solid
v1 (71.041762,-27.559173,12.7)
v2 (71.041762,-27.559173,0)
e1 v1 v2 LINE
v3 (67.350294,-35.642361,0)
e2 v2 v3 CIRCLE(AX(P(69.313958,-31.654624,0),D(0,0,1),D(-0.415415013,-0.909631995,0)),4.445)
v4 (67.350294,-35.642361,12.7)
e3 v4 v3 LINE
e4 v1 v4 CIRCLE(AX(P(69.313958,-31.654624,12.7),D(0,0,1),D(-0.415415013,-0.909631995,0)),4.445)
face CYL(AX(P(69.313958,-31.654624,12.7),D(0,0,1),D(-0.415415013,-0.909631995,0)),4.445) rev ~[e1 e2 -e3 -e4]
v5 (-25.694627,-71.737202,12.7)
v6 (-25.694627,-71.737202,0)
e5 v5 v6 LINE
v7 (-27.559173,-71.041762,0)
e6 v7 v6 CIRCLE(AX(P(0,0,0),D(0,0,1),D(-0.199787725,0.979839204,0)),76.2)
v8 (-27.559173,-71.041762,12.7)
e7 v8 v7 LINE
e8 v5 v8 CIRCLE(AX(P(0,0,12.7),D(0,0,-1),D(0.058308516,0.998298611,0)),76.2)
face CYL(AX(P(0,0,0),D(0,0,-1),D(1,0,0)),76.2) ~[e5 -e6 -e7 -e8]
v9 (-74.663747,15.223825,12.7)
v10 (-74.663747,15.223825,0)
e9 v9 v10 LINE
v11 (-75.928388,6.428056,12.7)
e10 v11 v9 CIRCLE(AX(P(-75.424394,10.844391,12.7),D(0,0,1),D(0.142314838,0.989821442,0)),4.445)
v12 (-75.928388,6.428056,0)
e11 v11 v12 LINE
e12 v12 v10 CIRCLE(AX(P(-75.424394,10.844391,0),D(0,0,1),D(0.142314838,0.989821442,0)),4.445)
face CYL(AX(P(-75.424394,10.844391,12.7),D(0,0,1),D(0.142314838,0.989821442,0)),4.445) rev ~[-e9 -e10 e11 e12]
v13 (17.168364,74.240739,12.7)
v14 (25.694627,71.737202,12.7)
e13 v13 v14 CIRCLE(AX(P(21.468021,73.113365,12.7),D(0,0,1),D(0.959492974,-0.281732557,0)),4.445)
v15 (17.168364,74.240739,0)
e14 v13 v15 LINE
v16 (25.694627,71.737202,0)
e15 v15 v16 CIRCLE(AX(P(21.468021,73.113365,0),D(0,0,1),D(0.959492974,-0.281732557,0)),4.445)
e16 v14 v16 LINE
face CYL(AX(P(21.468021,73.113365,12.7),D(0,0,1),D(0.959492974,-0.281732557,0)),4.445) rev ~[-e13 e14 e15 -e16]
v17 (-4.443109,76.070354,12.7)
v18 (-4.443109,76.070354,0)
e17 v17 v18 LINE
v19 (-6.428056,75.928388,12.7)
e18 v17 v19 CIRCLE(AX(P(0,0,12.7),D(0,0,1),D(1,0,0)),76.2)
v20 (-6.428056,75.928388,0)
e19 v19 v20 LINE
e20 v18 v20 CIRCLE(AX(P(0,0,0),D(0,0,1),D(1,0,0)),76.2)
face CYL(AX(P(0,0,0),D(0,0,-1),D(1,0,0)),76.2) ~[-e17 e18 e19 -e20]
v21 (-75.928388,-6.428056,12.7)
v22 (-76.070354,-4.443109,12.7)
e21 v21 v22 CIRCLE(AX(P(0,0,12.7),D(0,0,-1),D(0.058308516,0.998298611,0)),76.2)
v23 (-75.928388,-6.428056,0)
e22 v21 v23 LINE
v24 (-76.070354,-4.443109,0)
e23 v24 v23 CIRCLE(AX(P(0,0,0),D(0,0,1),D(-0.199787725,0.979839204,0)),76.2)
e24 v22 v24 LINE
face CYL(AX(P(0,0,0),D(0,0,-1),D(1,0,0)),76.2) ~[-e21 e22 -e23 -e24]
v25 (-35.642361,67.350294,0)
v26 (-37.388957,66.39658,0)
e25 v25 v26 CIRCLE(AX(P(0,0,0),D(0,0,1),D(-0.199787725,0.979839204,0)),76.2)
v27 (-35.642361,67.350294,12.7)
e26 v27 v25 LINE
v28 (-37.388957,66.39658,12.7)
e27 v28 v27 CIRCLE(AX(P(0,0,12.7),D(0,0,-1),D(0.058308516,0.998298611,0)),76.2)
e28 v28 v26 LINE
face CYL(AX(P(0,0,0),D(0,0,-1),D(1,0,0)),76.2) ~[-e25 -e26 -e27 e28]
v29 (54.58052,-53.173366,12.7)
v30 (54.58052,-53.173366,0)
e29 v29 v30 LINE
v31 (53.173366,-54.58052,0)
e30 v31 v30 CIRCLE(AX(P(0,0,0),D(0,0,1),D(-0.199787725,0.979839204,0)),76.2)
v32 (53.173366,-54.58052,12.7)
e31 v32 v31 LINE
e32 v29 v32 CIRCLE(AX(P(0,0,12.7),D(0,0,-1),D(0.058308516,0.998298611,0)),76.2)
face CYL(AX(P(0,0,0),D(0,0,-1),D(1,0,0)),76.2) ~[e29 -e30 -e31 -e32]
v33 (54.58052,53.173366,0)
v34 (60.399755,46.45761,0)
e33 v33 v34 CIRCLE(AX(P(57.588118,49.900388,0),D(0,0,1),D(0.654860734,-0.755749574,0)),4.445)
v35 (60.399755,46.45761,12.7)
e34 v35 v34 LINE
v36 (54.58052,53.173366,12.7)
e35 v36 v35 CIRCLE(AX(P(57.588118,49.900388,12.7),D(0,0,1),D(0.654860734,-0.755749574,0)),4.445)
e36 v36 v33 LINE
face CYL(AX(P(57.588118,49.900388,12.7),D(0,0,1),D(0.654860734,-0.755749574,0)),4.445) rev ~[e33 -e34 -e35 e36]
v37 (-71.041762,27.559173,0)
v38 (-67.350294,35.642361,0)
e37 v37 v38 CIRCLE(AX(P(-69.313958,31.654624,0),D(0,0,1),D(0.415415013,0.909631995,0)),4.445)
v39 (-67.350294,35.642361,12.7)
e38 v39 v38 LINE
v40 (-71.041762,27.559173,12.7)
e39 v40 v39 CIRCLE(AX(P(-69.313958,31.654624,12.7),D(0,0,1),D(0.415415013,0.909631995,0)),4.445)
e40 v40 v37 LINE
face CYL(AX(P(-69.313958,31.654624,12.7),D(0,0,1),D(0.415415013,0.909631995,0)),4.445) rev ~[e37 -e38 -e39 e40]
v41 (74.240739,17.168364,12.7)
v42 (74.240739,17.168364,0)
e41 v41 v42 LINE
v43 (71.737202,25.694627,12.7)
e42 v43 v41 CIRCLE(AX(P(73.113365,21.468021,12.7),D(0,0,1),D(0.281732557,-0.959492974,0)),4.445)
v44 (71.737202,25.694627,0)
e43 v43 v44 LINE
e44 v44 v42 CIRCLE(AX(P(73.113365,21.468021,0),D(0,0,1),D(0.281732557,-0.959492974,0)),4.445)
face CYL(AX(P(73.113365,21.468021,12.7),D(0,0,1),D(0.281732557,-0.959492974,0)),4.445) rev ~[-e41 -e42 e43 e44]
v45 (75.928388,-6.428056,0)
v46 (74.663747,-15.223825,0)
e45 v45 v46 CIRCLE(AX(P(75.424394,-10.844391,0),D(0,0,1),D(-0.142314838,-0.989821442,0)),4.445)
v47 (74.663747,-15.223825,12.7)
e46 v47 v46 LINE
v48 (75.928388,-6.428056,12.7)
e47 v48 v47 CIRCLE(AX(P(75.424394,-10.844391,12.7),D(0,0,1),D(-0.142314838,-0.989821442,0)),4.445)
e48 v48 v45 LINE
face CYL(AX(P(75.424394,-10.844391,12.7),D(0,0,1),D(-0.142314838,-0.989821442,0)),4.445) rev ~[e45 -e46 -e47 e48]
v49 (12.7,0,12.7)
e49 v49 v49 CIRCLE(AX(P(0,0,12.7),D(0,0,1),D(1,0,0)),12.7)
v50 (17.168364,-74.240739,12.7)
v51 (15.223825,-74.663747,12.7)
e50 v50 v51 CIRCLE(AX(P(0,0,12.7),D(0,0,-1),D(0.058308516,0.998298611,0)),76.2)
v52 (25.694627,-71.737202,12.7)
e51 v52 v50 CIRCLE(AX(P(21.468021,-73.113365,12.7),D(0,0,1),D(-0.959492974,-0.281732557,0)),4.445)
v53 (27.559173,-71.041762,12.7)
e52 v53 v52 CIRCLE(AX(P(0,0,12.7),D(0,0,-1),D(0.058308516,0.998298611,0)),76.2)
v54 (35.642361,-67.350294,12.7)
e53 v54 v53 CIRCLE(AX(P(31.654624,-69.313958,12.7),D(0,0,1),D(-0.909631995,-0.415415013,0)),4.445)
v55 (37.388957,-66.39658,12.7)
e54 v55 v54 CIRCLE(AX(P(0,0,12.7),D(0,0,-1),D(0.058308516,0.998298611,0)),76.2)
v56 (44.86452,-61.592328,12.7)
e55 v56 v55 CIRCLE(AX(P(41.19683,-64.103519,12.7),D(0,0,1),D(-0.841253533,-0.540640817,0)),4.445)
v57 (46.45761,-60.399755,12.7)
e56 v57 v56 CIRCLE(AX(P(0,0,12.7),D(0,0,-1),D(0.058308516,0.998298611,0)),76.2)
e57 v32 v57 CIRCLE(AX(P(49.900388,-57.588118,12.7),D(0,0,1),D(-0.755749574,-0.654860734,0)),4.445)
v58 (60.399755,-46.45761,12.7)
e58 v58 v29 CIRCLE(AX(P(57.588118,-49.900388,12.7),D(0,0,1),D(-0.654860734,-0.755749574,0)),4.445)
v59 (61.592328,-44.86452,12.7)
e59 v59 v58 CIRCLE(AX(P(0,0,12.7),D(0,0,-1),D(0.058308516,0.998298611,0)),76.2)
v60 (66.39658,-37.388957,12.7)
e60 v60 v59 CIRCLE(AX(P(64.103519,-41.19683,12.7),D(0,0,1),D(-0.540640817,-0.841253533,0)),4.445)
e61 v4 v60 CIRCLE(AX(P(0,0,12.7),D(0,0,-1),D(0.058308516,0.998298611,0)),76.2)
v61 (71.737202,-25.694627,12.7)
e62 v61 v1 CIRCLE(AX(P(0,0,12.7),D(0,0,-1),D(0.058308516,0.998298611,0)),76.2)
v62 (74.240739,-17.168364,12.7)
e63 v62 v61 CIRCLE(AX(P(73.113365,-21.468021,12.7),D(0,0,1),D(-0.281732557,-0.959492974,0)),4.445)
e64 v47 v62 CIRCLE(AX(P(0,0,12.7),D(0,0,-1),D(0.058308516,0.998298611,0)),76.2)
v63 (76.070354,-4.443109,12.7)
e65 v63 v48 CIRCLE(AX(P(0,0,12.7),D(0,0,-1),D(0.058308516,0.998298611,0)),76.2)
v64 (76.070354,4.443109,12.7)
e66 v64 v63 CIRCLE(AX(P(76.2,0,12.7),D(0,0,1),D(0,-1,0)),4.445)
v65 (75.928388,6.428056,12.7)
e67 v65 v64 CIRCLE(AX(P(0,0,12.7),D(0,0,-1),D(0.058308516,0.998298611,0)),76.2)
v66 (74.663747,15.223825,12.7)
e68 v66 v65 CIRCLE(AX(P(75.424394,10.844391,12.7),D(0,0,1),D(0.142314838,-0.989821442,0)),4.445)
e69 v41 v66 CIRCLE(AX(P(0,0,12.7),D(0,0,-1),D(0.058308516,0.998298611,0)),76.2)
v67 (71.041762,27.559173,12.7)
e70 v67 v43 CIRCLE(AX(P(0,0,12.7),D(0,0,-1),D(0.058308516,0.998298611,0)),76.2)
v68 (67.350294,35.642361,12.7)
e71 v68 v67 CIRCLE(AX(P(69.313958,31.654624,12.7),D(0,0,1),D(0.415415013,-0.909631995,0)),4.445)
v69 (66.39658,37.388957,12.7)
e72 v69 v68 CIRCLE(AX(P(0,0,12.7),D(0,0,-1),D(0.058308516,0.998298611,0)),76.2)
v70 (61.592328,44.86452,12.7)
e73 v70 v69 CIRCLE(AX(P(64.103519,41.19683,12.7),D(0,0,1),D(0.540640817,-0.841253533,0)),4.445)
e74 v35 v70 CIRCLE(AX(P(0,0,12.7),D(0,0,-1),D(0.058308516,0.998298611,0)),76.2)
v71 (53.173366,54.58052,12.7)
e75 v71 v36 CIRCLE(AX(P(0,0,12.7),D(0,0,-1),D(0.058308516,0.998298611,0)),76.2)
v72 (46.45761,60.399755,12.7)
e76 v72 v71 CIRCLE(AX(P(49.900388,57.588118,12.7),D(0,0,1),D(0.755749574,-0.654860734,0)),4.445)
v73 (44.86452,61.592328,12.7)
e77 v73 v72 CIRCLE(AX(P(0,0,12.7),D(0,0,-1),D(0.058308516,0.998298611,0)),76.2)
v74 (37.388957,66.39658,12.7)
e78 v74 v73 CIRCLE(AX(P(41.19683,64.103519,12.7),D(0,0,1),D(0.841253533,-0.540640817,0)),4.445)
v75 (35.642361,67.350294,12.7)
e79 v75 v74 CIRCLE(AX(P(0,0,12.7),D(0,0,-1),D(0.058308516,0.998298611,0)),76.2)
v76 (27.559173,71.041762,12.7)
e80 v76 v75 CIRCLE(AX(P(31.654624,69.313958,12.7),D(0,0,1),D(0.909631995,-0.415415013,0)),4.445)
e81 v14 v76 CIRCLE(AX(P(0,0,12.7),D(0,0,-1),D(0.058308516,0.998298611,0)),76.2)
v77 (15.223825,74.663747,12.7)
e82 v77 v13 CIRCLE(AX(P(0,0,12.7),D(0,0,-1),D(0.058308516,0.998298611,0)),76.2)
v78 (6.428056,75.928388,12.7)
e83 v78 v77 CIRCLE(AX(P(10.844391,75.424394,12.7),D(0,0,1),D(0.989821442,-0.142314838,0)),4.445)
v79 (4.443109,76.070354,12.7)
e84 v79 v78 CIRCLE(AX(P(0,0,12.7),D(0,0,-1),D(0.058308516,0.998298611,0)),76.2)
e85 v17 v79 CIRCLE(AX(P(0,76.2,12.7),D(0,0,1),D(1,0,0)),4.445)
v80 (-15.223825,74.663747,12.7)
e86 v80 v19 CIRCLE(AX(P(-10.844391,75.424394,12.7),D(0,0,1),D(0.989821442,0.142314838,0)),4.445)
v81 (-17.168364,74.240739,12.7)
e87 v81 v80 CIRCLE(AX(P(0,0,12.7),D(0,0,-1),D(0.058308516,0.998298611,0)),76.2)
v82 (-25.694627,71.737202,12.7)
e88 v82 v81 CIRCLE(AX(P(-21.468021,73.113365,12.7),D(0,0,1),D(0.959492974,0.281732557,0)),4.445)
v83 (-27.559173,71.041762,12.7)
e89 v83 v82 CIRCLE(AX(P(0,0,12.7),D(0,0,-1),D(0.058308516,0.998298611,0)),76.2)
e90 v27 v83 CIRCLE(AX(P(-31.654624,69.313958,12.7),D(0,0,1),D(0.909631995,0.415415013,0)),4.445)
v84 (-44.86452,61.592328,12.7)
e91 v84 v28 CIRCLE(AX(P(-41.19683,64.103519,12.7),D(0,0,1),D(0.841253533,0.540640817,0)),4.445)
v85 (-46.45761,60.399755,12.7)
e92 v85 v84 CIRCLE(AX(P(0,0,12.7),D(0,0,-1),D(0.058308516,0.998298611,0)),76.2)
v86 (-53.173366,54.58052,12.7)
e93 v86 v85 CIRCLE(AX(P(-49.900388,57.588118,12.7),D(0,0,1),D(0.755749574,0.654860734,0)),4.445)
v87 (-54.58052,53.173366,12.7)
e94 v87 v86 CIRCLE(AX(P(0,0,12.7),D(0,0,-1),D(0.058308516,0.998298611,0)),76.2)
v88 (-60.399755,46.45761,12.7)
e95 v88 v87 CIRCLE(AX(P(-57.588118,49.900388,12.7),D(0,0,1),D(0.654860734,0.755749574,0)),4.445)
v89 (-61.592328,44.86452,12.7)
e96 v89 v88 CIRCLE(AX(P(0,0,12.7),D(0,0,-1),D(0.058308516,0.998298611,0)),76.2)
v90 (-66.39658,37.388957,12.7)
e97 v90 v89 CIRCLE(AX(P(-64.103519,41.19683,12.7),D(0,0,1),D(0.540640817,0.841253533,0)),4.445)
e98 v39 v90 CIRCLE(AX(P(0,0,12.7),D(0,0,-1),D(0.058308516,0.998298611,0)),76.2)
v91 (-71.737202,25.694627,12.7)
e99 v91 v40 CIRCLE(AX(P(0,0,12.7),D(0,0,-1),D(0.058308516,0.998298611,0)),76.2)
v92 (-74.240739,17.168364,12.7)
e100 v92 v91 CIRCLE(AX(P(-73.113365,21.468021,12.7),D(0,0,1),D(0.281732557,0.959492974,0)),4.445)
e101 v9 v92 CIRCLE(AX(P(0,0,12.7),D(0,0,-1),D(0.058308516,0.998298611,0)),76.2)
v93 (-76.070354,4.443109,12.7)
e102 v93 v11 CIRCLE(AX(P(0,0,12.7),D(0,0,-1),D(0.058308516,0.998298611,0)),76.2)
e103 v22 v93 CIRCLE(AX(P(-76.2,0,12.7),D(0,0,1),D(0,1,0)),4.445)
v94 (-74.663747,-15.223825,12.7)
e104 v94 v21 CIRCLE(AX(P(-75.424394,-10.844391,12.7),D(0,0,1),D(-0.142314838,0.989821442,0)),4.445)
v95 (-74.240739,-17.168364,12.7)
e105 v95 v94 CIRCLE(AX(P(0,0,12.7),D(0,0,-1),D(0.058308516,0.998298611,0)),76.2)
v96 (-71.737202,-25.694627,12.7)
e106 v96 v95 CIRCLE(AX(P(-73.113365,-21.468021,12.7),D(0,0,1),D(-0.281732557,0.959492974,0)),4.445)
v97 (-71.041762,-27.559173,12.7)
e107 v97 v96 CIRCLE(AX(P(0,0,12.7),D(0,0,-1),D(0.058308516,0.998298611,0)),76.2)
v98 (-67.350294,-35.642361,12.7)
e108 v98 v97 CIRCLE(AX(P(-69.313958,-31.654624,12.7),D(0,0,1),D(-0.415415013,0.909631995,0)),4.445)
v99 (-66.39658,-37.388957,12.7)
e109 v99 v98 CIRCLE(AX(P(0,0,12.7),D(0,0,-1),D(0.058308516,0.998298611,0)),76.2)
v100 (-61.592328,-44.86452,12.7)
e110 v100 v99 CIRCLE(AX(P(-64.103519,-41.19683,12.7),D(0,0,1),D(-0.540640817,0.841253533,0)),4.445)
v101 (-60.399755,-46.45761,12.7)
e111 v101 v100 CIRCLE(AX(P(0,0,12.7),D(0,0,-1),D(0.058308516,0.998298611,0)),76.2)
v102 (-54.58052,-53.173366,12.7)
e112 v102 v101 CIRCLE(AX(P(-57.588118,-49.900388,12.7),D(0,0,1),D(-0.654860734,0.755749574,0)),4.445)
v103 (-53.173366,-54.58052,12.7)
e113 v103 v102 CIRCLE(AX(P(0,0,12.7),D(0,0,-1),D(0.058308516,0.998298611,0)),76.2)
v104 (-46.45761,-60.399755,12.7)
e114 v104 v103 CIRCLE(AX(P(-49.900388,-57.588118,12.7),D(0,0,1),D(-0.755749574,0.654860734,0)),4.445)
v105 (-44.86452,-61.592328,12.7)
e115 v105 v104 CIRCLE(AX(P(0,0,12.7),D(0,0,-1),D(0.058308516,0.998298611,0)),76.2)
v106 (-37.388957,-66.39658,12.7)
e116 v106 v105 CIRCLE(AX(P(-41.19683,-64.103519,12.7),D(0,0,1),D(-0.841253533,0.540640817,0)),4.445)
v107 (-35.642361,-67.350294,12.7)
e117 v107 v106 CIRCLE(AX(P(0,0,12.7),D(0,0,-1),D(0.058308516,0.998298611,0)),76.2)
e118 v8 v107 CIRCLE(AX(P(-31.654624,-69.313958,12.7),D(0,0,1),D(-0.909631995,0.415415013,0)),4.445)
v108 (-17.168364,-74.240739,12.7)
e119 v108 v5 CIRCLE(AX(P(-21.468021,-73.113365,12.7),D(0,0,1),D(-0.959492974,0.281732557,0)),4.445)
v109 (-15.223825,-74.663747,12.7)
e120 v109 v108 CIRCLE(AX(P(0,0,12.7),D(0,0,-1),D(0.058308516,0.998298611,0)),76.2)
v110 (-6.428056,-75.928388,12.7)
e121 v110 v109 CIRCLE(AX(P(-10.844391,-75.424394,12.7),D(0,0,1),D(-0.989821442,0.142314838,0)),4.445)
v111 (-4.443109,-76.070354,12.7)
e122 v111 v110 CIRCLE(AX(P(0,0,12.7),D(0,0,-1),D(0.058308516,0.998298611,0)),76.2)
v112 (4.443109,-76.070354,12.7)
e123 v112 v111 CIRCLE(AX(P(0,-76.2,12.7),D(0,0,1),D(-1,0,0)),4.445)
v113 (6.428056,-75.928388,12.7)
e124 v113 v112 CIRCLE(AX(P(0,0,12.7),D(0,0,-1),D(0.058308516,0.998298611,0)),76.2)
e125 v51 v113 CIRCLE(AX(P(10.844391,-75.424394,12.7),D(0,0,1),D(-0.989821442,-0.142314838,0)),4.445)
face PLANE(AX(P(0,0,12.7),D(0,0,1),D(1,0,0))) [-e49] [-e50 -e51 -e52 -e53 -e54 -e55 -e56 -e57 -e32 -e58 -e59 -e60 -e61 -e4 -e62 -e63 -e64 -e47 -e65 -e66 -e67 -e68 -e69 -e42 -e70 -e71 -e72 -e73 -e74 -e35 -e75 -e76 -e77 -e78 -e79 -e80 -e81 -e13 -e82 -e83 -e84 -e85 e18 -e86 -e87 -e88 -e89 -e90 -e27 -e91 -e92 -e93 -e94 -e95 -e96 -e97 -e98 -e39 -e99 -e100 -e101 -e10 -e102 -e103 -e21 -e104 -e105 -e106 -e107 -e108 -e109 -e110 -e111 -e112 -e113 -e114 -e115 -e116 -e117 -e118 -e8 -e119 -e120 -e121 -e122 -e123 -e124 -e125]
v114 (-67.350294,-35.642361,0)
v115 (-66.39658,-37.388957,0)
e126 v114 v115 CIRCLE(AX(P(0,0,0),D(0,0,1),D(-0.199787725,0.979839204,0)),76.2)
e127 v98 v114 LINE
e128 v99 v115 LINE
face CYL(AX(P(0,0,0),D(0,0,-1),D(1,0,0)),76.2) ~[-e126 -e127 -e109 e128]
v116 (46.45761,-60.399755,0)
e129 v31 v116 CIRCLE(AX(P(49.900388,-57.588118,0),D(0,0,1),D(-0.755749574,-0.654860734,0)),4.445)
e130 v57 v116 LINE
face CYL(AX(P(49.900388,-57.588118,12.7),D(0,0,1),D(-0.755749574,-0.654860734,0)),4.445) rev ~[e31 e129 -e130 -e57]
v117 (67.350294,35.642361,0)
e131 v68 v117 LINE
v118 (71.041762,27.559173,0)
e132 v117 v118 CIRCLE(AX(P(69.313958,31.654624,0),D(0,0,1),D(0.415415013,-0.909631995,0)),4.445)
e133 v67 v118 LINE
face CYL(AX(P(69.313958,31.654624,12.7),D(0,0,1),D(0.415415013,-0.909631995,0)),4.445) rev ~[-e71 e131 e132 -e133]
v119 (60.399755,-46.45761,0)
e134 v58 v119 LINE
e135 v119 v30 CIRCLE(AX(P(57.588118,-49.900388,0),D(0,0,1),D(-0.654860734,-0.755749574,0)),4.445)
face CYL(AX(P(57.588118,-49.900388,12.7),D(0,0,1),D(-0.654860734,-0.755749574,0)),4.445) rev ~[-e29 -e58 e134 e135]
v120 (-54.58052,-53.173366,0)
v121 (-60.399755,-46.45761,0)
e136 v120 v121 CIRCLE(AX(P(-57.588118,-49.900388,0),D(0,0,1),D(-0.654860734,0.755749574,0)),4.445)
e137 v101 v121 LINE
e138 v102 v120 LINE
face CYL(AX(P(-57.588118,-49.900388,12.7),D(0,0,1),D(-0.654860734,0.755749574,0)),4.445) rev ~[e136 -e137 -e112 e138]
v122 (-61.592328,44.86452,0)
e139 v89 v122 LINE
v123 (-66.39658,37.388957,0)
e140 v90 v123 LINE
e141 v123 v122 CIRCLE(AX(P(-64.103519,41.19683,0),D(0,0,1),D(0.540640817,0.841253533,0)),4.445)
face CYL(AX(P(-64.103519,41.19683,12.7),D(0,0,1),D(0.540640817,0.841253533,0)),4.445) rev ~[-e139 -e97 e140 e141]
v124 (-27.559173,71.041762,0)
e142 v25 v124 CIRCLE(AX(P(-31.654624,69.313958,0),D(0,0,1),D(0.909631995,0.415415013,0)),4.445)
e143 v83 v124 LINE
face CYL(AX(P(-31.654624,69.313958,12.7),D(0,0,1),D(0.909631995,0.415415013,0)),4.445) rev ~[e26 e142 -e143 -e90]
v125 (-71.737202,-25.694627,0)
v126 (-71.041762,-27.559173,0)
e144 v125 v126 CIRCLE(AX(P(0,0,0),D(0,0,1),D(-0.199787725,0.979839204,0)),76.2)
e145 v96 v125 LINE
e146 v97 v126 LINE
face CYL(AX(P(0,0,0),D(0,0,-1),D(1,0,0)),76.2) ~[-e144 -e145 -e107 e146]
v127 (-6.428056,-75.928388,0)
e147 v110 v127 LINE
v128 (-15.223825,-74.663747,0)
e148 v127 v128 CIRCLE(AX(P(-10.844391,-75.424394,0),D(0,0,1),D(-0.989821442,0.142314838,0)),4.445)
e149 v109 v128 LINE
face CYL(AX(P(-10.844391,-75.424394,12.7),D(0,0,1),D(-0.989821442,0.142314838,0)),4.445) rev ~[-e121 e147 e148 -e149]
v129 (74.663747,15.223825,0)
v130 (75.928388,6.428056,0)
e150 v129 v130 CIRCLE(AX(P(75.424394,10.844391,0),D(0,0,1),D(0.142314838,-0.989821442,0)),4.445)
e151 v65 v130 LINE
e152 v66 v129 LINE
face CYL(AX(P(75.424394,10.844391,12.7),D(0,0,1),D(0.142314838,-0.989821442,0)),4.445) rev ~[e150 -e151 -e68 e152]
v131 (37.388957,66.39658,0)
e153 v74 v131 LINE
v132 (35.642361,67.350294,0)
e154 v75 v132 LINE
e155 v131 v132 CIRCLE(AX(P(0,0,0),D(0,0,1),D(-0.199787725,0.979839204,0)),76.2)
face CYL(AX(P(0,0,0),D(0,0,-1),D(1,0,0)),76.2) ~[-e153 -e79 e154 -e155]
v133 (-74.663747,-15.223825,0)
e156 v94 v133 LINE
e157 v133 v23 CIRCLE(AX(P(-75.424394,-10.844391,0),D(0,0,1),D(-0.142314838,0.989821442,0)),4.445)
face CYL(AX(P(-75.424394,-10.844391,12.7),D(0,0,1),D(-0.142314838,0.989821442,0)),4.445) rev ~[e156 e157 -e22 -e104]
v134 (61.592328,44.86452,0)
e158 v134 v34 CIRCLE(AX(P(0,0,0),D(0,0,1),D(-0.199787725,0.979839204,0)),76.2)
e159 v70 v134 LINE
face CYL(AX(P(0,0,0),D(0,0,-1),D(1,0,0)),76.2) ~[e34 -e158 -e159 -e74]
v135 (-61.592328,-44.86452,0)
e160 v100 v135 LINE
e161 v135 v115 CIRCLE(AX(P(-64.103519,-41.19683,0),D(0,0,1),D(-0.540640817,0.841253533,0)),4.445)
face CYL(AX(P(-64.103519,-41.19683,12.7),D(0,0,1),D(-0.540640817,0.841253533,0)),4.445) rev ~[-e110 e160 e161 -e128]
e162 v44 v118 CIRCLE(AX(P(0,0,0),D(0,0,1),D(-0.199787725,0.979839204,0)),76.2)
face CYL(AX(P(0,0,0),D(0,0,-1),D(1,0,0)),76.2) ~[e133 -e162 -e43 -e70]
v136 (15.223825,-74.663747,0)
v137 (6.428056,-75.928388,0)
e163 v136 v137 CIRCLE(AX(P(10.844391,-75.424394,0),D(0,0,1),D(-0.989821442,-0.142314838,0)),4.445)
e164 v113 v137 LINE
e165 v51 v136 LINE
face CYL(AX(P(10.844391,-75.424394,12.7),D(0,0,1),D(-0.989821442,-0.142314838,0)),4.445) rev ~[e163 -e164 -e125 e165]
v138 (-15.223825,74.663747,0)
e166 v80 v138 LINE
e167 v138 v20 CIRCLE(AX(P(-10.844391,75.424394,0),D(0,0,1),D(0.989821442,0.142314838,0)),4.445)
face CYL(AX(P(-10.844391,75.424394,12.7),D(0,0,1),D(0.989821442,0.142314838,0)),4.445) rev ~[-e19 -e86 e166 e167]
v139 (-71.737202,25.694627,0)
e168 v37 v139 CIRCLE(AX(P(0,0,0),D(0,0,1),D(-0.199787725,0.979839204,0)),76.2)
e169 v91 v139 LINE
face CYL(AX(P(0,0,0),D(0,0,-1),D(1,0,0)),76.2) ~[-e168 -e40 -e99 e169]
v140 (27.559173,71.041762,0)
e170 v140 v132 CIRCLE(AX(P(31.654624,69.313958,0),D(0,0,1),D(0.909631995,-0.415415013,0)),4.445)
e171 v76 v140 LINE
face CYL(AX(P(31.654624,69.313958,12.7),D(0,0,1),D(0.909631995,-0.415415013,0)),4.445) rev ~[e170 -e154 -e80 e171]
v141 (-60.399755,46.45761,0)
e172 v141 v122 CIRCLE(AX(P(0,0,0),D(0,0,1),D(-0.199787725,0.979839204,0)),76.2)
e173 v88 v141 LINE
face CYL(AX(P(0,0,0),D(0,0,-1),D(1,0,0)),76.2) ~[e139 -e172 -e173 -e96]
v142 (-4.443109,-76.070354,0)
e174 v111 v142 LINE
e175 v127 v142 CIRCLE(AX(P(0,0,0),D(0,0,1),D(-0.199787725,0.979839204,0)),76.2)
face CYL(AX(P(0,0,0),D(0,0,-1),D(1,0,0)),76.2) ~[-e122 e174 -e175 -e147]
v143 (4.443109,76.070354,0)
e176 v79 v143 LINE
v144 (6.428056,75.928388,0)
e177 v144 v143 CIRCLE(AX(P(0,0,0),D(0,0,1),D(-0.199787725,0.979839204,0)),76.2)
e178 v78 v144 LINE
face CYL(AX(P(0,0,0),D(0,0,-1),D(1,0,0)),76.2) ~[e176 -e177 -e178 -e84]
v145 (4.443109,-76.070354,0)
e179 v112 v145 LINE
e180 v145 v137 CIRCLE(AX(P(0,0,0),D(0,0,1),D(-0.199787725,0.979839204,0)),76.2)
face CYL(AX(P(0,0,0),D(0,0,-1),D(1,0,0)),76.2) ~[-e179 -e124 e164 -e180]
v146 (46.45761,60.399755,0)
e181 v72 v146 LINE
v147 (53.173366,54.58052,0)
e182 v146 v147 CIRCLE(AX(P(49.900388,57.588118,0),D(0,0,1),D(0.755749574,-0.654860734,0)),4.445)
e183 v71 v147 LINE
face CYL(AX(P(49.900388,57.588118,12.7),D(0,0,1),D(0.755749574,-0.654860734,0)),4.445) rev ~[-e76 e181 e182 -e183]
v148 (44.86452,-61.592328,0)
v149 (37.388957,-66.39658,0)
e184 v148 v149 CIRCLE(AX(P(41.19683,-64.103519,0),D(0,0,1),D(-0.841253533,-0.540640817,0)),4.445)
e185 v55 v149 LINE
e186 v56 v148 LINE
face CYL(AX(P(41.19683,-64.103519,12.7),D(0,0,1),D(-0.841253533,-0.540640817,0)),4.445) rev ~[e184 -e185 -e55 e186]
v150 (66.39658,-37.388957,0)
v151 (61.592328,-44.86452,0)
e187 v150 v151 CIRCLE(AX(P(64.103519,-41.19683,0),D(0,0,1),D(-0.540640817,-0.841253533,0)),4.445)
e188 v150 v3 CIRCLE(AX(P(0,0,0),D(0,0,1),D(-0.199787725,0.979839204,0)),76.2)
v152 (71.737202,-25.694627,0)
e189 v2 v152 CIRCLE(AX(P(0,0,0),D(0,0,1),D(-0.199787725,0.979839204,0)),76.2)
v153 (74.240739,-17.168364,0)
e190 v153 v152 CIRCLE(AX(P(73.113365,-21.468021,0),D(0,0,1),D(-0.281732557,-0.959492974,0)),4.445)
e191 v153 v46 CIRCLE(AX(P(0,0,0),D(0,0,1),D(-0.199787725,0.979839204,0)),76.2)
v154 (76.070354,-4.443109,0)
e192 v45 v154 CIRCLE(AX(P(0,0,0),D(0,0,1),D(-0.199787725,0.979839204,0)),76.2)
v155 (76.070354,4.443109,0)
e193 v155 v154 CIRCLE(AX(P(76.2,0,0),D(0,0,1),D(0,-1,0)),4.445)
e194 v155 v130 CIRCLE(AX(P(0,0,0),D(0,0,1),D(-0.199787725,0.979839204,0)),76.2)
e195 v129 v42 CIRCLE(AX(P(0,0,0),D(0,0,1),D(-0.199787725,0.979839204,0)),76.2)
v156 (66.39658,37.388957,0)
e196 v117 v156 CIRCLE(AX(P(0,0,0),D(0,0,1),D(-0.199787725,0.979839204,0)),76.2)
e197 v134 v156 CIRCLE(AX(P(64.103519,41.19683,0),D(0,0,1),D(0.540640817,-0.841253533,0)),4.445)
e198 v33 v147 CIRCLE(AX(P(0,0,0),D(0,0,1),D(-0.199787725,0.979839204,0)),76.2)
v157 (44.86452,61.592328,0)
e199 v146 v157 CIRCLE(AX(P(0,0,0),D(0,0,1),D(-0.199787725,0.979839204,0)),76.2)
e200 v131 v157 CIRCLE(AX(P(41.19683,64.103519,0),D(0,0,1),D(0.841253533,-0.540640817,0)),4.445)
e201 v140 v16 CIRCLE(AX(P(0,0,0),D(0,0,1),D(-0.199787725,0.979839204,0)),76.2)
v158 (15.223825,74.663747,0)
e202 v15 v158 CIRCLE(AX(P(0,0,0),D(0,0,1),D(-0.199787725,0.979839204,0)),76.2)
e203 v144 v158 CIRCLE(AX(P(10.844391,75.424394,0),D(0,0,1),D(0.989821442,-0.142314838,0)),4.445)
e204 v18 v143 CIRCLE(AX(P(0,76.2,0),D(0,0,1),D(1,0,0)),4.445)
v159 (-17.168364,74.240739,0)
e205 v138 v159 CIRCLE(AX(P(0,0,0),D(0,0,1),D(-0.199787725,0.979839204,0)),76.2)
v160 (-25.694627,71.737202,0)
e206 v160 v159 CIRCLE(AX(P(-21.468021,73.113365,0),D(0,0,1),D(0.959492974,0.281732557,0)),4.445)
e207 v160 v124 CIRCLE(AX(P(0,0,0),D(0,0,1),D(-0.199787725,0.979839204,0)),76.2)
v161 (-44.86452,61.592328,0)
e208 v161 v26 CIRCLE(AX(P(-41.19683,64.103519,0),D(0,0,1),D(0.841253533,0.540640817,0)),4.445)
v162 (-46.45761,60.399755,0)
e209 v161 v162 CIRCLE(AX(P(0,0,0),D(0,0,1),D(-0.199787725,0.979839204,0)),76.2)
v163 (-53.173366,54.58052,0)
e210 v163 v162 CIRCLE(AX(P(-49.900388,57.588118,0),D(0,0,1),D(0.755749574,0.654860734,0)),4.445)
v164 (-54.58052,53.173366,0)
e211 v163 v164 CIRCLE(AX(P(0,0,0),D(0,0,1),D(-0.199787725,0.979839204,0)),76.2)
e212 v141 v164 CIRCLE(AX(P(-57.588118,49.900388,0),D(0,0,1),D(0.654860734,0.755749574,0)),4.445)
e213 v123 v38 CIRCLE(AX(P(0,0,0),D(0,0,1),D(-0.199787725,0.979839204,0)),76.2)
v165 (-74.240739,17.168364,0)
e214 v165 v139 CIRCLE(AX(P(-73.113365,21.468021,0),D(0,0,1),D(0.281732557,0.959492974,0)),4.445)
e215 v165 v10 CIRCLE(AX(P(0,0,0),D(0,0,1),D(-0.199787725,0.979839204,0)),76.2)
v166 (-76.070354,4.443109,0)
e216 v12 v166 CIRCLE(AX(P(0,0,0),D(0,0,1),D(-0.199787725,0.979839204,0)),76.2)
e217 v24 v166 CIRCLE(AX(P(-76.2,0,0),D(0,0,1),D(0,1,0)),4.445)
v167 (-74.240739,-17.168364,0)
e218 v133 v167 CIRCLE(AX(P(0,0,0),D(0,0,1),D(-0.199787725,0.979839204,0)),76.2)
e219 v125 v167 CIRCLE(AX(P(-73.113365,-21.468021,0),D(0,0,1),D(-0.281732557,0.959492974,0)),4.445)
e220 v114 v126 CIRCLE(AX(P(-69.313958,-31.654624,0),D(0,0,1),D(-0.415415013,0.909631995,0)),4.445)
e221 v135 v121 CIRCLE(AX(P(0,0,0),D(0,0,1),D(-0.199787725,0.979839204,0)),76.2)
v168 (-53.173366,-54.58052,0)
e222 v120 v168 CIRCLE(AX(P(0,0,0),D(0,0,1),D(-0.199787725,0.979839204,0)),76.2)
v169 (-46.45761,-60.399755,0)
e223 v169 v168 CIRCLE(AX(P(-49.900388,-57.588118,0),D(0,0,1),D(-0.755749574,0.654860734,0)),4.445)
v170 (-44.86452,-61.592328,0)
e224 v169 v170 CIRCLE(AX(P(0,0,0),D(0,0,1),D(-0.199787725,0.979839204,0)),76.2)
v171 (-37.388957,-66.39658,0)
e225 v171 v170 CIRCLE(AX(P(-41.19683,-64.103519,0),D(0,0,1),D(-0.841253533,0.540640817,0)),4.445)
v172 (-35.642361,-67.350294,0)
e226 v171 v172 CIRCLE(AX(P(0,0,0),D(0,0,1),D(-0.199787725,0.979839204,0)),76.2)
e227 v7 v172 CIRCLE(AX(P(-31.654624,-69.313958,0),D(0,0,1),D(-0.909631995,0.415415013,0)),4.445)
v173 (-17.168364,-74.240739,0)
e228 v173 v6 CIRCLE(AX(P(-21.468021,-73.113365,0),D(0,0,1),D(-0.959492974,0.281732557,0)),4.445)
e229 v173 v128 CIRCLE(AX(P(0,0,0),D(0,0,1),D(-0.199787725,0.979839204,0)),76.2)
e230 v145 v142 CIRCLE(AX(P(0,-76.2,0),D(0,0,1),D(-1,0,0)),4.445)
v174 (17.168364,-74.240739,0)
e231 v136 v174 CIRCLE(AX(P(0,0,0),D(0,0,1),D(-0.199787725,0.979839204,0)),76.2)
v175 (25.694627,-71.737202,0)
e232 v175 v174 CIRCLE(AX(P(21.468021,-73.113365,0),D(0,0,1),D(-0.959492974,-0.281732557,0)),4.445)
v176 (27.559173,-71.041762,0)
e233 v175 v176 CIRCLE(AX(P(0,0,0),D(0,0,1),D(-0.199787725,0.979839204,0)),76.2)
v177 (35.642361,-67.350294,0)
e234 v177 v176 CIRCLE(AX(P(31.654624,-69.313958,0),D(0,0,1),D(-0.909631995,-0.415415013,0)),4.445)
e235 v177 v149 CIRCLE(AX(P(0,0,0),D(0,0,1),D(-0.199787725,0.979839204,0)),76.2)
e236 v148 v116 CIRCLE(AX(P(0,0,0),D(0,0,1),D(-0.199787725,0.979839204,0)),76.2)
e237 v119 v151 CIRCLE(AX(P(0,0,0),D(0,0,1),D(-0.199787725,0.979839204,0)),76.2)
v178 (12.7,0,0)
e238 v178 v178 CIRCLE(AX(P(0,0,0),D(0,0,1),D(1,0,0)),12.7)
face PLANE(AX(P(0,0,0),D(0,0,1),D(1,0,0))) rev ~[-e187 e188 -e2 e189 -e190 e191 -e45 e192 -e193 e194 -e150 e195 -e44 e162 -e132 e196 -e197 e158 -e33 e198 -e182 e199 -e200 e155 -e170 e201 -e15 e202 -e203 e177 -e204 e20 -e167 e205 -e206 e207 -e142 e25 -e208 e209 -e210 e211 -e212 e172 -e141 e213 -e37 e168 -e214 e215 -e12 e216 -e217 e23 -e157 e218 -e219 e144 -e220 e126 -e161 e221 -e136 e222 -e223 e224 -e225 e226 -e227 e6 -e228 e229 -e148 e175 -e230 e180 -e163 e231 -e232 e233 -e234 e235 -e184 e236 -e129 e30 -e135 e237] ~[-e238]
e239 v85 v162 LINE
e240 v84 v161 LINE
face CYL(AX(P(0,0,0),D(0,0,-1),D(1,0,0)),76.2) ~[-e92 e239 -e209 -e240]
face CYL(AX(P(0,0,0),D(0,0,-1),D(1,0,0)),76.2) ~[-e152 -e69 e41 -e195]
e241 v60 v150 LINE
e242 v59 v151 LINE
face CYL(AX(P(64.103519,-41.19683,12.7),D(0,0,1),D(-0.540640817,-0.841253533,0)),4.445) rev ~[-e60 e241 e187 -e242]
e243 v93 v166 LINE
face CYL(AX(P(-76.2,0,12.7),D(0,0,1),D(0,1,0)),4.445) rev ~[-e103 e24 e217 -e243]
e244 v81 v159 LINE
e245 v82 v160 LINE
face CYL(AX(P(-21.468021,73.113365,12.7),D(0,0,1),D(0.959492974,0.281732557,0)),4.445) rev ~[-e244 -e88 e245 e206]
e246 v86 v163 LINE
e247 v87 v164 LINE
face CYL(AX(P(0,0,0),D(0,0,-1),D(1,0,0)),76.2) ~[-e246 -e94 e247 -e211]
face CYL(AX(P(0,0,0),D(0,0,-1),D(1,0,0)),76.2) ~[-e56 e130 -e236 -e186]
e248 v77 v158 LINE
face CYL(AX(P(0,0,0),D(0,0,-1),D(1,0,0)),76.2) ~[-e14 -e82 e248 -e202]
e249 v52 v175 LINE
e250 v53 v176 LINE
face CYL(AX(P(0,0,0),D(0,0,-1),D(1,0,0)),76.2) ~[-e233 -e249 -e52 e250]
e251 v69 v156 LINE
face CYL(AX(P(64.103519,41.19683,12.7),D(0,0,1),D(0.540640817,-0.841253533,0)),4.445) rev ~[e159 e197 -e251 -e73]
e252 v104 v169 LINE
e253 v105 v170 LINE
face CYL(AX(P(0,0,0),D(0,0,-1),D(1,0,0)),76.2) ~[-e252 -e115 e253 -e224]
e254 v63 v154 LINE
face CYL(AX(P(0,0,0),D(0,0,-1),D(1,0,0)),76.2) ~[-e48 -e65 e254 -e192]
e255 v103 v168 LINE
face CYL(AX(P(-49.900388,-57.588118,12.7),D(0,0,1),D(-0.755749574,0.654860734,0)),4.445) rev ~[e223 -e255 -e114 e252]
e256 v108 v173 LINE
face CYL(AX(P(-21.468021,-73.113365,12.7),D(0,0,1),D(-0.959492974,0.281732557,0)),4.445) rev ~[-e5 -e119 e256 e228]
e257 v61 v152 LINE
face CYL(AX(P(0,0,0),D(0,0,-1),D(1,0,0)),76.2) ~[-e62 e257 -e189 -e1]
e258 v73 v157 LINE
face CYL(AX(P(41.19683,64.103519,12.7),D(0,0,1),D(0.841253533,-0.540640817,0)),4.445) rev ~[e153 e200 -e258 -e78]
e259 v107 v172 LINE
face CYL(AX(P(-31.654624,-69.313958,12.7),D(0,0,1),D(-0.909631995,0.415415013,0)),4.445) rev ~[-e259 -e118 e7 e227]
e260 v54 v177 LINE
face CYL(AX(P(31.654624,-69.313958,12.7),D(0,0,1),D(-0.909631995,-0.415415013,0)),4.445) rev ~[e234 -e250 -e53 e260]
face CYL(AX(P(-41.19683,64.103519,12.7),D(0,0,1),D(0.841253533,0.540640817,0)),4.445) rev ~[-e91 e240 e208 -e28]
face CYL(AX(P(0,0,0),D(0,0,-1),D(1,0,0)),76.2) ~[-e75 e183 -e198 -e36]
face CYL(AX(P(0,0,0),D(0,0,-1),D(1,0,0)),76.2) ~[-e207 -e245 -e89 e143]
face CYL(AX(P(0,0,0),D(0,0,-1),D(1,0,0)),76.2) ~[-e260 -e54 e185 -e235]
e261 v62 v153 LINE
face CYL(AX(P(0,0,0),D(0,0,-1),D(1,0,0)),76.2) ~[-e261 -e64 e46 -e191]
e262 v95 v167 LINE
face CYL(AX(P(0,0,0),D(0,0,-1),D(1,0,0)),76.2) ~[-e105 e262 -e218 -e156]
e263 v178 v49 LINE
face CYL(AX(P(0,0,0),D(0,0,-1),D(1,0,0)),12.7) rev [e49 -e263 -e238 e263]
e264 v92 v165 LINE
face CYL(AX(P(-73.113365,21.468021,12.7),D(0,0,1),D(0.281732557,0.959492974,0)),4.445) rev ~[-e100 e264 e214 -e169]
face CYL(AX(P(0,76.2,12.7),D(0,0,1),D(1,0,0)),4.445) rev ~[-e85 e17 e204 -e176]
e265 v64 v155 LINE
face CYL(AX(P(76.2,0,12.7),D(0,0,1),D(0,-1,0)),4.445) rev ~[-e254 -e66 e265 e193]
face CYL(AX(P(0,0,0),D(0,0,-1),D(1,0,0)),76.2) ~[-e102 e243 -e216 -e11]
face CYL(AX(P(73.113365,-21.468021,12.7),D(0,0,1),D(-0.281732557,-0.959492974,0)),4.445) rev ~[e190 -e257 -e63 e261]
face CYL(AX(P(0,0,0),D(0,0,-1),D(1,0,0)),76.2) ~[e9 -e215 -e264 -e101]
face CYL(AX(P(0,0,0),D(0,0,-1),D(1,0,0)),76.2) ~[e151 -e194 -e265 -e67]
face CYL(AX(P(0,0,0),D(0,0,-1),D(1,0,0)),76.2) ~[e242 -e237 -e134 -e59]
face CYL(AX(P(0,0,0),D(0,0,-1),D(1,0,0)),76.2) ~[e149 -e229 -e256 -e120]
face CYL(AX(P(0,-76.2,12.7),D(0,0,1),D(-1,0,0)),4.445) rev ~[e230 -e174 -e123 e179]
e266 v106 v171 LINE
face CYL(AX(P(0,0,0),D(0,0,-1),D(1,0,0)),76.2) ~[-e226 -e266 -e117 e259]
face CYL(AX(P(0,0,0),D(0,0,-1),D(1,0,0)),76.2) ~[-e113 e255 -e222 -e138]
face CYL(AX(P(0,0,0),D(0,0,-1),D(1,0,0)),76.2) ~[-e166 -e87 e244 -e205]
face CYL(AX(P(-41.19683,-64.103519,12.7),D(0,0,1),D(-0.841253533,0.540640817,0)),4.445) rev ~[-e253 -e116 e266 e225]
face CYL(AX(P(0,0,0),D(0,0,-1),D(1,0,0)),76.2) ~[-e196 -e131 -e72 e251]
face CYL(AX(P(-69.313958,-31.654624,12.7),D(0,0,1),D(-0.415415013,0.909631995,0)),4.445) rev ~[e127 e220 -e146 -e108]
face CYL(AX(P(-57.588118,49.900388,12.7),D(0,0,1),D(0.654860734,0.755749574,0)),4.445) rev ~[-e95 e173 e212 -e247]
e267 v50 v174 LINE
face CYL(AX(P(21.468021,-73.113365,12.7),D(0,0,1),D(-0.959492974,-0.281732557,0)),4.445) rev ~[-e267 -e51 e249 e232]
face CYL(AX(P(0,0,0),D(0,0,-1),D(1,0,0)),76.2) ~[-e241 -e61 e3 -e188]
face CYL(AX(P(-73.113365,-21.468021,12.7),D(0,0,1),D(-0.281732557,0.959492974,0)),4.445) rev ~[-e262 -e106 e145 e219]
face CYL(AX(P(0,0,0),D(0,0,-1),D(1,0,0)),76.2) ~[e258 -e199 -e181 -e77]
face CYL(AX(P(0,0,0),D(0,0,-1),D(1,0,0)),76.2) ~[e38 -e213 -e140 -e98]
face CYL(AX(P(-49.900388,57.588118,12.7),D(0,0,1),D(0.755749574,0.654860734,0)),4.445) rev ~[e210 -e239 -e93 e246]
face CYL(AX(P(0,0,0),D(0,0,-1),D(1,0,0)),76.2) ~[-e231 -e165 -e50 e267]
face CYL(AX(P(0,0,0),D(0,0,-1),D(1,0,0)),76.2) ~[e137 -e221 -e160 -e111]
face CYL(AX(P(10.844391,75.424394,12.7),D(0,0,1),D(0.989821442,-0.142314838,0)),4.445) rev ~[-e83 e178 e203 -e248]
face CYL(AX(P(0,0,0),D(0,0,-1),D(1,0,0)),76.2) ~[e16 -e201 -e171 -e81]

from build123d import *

# Parameters (mm, degrees)
SKETCH1_R           = 76.2
SKETCH1_R_2         = 12.7
BOSS_EXTRUDE1_DEPTH = 12.7
SKETCH2_R           = 4.445
CUT_EXTRUDE1_DEPTH  = 109.508847566
CIRPATTERN1_COUNT   = 44


with BuildPart() as part:
    # Sketch1 → Boss-Extrude1 (new body)
    with BuildSketch(Plane.XY):
        Circle(SKETCH1_R)
        Circle(SKETCH1_R_2, mode=Mode.SUBTRACT)
    extrude(amount=BOSS_EXTRUDE1_DEPTH)

    # Sketch2 → Cut-Extrude1 (cut, through all)
    with BuildSketch(Plane.XY.offset(12.7)):
        with Locations((0, 76.2)):
            Circle(SKETCH2_R)
    cut_extrude1 = extrude(amount=-CUT_EXTRUDE1_DEPTH, mode=Mode.SUBTRACT)

    # CirPattern1: Cut-Extrude1 ×44 about axis
    cirpattern1_axis = Axis((0, 0, 0), (0, 0, 1))
    for i in range(1, CIRPATTERN1_COUNT):
        add(cut_extrude1.rotate(cirpattern1_axis, i * 360 / CIRPATTERN1_COUNT), mode=Mode.SUBTRACT)


solid = part.part
